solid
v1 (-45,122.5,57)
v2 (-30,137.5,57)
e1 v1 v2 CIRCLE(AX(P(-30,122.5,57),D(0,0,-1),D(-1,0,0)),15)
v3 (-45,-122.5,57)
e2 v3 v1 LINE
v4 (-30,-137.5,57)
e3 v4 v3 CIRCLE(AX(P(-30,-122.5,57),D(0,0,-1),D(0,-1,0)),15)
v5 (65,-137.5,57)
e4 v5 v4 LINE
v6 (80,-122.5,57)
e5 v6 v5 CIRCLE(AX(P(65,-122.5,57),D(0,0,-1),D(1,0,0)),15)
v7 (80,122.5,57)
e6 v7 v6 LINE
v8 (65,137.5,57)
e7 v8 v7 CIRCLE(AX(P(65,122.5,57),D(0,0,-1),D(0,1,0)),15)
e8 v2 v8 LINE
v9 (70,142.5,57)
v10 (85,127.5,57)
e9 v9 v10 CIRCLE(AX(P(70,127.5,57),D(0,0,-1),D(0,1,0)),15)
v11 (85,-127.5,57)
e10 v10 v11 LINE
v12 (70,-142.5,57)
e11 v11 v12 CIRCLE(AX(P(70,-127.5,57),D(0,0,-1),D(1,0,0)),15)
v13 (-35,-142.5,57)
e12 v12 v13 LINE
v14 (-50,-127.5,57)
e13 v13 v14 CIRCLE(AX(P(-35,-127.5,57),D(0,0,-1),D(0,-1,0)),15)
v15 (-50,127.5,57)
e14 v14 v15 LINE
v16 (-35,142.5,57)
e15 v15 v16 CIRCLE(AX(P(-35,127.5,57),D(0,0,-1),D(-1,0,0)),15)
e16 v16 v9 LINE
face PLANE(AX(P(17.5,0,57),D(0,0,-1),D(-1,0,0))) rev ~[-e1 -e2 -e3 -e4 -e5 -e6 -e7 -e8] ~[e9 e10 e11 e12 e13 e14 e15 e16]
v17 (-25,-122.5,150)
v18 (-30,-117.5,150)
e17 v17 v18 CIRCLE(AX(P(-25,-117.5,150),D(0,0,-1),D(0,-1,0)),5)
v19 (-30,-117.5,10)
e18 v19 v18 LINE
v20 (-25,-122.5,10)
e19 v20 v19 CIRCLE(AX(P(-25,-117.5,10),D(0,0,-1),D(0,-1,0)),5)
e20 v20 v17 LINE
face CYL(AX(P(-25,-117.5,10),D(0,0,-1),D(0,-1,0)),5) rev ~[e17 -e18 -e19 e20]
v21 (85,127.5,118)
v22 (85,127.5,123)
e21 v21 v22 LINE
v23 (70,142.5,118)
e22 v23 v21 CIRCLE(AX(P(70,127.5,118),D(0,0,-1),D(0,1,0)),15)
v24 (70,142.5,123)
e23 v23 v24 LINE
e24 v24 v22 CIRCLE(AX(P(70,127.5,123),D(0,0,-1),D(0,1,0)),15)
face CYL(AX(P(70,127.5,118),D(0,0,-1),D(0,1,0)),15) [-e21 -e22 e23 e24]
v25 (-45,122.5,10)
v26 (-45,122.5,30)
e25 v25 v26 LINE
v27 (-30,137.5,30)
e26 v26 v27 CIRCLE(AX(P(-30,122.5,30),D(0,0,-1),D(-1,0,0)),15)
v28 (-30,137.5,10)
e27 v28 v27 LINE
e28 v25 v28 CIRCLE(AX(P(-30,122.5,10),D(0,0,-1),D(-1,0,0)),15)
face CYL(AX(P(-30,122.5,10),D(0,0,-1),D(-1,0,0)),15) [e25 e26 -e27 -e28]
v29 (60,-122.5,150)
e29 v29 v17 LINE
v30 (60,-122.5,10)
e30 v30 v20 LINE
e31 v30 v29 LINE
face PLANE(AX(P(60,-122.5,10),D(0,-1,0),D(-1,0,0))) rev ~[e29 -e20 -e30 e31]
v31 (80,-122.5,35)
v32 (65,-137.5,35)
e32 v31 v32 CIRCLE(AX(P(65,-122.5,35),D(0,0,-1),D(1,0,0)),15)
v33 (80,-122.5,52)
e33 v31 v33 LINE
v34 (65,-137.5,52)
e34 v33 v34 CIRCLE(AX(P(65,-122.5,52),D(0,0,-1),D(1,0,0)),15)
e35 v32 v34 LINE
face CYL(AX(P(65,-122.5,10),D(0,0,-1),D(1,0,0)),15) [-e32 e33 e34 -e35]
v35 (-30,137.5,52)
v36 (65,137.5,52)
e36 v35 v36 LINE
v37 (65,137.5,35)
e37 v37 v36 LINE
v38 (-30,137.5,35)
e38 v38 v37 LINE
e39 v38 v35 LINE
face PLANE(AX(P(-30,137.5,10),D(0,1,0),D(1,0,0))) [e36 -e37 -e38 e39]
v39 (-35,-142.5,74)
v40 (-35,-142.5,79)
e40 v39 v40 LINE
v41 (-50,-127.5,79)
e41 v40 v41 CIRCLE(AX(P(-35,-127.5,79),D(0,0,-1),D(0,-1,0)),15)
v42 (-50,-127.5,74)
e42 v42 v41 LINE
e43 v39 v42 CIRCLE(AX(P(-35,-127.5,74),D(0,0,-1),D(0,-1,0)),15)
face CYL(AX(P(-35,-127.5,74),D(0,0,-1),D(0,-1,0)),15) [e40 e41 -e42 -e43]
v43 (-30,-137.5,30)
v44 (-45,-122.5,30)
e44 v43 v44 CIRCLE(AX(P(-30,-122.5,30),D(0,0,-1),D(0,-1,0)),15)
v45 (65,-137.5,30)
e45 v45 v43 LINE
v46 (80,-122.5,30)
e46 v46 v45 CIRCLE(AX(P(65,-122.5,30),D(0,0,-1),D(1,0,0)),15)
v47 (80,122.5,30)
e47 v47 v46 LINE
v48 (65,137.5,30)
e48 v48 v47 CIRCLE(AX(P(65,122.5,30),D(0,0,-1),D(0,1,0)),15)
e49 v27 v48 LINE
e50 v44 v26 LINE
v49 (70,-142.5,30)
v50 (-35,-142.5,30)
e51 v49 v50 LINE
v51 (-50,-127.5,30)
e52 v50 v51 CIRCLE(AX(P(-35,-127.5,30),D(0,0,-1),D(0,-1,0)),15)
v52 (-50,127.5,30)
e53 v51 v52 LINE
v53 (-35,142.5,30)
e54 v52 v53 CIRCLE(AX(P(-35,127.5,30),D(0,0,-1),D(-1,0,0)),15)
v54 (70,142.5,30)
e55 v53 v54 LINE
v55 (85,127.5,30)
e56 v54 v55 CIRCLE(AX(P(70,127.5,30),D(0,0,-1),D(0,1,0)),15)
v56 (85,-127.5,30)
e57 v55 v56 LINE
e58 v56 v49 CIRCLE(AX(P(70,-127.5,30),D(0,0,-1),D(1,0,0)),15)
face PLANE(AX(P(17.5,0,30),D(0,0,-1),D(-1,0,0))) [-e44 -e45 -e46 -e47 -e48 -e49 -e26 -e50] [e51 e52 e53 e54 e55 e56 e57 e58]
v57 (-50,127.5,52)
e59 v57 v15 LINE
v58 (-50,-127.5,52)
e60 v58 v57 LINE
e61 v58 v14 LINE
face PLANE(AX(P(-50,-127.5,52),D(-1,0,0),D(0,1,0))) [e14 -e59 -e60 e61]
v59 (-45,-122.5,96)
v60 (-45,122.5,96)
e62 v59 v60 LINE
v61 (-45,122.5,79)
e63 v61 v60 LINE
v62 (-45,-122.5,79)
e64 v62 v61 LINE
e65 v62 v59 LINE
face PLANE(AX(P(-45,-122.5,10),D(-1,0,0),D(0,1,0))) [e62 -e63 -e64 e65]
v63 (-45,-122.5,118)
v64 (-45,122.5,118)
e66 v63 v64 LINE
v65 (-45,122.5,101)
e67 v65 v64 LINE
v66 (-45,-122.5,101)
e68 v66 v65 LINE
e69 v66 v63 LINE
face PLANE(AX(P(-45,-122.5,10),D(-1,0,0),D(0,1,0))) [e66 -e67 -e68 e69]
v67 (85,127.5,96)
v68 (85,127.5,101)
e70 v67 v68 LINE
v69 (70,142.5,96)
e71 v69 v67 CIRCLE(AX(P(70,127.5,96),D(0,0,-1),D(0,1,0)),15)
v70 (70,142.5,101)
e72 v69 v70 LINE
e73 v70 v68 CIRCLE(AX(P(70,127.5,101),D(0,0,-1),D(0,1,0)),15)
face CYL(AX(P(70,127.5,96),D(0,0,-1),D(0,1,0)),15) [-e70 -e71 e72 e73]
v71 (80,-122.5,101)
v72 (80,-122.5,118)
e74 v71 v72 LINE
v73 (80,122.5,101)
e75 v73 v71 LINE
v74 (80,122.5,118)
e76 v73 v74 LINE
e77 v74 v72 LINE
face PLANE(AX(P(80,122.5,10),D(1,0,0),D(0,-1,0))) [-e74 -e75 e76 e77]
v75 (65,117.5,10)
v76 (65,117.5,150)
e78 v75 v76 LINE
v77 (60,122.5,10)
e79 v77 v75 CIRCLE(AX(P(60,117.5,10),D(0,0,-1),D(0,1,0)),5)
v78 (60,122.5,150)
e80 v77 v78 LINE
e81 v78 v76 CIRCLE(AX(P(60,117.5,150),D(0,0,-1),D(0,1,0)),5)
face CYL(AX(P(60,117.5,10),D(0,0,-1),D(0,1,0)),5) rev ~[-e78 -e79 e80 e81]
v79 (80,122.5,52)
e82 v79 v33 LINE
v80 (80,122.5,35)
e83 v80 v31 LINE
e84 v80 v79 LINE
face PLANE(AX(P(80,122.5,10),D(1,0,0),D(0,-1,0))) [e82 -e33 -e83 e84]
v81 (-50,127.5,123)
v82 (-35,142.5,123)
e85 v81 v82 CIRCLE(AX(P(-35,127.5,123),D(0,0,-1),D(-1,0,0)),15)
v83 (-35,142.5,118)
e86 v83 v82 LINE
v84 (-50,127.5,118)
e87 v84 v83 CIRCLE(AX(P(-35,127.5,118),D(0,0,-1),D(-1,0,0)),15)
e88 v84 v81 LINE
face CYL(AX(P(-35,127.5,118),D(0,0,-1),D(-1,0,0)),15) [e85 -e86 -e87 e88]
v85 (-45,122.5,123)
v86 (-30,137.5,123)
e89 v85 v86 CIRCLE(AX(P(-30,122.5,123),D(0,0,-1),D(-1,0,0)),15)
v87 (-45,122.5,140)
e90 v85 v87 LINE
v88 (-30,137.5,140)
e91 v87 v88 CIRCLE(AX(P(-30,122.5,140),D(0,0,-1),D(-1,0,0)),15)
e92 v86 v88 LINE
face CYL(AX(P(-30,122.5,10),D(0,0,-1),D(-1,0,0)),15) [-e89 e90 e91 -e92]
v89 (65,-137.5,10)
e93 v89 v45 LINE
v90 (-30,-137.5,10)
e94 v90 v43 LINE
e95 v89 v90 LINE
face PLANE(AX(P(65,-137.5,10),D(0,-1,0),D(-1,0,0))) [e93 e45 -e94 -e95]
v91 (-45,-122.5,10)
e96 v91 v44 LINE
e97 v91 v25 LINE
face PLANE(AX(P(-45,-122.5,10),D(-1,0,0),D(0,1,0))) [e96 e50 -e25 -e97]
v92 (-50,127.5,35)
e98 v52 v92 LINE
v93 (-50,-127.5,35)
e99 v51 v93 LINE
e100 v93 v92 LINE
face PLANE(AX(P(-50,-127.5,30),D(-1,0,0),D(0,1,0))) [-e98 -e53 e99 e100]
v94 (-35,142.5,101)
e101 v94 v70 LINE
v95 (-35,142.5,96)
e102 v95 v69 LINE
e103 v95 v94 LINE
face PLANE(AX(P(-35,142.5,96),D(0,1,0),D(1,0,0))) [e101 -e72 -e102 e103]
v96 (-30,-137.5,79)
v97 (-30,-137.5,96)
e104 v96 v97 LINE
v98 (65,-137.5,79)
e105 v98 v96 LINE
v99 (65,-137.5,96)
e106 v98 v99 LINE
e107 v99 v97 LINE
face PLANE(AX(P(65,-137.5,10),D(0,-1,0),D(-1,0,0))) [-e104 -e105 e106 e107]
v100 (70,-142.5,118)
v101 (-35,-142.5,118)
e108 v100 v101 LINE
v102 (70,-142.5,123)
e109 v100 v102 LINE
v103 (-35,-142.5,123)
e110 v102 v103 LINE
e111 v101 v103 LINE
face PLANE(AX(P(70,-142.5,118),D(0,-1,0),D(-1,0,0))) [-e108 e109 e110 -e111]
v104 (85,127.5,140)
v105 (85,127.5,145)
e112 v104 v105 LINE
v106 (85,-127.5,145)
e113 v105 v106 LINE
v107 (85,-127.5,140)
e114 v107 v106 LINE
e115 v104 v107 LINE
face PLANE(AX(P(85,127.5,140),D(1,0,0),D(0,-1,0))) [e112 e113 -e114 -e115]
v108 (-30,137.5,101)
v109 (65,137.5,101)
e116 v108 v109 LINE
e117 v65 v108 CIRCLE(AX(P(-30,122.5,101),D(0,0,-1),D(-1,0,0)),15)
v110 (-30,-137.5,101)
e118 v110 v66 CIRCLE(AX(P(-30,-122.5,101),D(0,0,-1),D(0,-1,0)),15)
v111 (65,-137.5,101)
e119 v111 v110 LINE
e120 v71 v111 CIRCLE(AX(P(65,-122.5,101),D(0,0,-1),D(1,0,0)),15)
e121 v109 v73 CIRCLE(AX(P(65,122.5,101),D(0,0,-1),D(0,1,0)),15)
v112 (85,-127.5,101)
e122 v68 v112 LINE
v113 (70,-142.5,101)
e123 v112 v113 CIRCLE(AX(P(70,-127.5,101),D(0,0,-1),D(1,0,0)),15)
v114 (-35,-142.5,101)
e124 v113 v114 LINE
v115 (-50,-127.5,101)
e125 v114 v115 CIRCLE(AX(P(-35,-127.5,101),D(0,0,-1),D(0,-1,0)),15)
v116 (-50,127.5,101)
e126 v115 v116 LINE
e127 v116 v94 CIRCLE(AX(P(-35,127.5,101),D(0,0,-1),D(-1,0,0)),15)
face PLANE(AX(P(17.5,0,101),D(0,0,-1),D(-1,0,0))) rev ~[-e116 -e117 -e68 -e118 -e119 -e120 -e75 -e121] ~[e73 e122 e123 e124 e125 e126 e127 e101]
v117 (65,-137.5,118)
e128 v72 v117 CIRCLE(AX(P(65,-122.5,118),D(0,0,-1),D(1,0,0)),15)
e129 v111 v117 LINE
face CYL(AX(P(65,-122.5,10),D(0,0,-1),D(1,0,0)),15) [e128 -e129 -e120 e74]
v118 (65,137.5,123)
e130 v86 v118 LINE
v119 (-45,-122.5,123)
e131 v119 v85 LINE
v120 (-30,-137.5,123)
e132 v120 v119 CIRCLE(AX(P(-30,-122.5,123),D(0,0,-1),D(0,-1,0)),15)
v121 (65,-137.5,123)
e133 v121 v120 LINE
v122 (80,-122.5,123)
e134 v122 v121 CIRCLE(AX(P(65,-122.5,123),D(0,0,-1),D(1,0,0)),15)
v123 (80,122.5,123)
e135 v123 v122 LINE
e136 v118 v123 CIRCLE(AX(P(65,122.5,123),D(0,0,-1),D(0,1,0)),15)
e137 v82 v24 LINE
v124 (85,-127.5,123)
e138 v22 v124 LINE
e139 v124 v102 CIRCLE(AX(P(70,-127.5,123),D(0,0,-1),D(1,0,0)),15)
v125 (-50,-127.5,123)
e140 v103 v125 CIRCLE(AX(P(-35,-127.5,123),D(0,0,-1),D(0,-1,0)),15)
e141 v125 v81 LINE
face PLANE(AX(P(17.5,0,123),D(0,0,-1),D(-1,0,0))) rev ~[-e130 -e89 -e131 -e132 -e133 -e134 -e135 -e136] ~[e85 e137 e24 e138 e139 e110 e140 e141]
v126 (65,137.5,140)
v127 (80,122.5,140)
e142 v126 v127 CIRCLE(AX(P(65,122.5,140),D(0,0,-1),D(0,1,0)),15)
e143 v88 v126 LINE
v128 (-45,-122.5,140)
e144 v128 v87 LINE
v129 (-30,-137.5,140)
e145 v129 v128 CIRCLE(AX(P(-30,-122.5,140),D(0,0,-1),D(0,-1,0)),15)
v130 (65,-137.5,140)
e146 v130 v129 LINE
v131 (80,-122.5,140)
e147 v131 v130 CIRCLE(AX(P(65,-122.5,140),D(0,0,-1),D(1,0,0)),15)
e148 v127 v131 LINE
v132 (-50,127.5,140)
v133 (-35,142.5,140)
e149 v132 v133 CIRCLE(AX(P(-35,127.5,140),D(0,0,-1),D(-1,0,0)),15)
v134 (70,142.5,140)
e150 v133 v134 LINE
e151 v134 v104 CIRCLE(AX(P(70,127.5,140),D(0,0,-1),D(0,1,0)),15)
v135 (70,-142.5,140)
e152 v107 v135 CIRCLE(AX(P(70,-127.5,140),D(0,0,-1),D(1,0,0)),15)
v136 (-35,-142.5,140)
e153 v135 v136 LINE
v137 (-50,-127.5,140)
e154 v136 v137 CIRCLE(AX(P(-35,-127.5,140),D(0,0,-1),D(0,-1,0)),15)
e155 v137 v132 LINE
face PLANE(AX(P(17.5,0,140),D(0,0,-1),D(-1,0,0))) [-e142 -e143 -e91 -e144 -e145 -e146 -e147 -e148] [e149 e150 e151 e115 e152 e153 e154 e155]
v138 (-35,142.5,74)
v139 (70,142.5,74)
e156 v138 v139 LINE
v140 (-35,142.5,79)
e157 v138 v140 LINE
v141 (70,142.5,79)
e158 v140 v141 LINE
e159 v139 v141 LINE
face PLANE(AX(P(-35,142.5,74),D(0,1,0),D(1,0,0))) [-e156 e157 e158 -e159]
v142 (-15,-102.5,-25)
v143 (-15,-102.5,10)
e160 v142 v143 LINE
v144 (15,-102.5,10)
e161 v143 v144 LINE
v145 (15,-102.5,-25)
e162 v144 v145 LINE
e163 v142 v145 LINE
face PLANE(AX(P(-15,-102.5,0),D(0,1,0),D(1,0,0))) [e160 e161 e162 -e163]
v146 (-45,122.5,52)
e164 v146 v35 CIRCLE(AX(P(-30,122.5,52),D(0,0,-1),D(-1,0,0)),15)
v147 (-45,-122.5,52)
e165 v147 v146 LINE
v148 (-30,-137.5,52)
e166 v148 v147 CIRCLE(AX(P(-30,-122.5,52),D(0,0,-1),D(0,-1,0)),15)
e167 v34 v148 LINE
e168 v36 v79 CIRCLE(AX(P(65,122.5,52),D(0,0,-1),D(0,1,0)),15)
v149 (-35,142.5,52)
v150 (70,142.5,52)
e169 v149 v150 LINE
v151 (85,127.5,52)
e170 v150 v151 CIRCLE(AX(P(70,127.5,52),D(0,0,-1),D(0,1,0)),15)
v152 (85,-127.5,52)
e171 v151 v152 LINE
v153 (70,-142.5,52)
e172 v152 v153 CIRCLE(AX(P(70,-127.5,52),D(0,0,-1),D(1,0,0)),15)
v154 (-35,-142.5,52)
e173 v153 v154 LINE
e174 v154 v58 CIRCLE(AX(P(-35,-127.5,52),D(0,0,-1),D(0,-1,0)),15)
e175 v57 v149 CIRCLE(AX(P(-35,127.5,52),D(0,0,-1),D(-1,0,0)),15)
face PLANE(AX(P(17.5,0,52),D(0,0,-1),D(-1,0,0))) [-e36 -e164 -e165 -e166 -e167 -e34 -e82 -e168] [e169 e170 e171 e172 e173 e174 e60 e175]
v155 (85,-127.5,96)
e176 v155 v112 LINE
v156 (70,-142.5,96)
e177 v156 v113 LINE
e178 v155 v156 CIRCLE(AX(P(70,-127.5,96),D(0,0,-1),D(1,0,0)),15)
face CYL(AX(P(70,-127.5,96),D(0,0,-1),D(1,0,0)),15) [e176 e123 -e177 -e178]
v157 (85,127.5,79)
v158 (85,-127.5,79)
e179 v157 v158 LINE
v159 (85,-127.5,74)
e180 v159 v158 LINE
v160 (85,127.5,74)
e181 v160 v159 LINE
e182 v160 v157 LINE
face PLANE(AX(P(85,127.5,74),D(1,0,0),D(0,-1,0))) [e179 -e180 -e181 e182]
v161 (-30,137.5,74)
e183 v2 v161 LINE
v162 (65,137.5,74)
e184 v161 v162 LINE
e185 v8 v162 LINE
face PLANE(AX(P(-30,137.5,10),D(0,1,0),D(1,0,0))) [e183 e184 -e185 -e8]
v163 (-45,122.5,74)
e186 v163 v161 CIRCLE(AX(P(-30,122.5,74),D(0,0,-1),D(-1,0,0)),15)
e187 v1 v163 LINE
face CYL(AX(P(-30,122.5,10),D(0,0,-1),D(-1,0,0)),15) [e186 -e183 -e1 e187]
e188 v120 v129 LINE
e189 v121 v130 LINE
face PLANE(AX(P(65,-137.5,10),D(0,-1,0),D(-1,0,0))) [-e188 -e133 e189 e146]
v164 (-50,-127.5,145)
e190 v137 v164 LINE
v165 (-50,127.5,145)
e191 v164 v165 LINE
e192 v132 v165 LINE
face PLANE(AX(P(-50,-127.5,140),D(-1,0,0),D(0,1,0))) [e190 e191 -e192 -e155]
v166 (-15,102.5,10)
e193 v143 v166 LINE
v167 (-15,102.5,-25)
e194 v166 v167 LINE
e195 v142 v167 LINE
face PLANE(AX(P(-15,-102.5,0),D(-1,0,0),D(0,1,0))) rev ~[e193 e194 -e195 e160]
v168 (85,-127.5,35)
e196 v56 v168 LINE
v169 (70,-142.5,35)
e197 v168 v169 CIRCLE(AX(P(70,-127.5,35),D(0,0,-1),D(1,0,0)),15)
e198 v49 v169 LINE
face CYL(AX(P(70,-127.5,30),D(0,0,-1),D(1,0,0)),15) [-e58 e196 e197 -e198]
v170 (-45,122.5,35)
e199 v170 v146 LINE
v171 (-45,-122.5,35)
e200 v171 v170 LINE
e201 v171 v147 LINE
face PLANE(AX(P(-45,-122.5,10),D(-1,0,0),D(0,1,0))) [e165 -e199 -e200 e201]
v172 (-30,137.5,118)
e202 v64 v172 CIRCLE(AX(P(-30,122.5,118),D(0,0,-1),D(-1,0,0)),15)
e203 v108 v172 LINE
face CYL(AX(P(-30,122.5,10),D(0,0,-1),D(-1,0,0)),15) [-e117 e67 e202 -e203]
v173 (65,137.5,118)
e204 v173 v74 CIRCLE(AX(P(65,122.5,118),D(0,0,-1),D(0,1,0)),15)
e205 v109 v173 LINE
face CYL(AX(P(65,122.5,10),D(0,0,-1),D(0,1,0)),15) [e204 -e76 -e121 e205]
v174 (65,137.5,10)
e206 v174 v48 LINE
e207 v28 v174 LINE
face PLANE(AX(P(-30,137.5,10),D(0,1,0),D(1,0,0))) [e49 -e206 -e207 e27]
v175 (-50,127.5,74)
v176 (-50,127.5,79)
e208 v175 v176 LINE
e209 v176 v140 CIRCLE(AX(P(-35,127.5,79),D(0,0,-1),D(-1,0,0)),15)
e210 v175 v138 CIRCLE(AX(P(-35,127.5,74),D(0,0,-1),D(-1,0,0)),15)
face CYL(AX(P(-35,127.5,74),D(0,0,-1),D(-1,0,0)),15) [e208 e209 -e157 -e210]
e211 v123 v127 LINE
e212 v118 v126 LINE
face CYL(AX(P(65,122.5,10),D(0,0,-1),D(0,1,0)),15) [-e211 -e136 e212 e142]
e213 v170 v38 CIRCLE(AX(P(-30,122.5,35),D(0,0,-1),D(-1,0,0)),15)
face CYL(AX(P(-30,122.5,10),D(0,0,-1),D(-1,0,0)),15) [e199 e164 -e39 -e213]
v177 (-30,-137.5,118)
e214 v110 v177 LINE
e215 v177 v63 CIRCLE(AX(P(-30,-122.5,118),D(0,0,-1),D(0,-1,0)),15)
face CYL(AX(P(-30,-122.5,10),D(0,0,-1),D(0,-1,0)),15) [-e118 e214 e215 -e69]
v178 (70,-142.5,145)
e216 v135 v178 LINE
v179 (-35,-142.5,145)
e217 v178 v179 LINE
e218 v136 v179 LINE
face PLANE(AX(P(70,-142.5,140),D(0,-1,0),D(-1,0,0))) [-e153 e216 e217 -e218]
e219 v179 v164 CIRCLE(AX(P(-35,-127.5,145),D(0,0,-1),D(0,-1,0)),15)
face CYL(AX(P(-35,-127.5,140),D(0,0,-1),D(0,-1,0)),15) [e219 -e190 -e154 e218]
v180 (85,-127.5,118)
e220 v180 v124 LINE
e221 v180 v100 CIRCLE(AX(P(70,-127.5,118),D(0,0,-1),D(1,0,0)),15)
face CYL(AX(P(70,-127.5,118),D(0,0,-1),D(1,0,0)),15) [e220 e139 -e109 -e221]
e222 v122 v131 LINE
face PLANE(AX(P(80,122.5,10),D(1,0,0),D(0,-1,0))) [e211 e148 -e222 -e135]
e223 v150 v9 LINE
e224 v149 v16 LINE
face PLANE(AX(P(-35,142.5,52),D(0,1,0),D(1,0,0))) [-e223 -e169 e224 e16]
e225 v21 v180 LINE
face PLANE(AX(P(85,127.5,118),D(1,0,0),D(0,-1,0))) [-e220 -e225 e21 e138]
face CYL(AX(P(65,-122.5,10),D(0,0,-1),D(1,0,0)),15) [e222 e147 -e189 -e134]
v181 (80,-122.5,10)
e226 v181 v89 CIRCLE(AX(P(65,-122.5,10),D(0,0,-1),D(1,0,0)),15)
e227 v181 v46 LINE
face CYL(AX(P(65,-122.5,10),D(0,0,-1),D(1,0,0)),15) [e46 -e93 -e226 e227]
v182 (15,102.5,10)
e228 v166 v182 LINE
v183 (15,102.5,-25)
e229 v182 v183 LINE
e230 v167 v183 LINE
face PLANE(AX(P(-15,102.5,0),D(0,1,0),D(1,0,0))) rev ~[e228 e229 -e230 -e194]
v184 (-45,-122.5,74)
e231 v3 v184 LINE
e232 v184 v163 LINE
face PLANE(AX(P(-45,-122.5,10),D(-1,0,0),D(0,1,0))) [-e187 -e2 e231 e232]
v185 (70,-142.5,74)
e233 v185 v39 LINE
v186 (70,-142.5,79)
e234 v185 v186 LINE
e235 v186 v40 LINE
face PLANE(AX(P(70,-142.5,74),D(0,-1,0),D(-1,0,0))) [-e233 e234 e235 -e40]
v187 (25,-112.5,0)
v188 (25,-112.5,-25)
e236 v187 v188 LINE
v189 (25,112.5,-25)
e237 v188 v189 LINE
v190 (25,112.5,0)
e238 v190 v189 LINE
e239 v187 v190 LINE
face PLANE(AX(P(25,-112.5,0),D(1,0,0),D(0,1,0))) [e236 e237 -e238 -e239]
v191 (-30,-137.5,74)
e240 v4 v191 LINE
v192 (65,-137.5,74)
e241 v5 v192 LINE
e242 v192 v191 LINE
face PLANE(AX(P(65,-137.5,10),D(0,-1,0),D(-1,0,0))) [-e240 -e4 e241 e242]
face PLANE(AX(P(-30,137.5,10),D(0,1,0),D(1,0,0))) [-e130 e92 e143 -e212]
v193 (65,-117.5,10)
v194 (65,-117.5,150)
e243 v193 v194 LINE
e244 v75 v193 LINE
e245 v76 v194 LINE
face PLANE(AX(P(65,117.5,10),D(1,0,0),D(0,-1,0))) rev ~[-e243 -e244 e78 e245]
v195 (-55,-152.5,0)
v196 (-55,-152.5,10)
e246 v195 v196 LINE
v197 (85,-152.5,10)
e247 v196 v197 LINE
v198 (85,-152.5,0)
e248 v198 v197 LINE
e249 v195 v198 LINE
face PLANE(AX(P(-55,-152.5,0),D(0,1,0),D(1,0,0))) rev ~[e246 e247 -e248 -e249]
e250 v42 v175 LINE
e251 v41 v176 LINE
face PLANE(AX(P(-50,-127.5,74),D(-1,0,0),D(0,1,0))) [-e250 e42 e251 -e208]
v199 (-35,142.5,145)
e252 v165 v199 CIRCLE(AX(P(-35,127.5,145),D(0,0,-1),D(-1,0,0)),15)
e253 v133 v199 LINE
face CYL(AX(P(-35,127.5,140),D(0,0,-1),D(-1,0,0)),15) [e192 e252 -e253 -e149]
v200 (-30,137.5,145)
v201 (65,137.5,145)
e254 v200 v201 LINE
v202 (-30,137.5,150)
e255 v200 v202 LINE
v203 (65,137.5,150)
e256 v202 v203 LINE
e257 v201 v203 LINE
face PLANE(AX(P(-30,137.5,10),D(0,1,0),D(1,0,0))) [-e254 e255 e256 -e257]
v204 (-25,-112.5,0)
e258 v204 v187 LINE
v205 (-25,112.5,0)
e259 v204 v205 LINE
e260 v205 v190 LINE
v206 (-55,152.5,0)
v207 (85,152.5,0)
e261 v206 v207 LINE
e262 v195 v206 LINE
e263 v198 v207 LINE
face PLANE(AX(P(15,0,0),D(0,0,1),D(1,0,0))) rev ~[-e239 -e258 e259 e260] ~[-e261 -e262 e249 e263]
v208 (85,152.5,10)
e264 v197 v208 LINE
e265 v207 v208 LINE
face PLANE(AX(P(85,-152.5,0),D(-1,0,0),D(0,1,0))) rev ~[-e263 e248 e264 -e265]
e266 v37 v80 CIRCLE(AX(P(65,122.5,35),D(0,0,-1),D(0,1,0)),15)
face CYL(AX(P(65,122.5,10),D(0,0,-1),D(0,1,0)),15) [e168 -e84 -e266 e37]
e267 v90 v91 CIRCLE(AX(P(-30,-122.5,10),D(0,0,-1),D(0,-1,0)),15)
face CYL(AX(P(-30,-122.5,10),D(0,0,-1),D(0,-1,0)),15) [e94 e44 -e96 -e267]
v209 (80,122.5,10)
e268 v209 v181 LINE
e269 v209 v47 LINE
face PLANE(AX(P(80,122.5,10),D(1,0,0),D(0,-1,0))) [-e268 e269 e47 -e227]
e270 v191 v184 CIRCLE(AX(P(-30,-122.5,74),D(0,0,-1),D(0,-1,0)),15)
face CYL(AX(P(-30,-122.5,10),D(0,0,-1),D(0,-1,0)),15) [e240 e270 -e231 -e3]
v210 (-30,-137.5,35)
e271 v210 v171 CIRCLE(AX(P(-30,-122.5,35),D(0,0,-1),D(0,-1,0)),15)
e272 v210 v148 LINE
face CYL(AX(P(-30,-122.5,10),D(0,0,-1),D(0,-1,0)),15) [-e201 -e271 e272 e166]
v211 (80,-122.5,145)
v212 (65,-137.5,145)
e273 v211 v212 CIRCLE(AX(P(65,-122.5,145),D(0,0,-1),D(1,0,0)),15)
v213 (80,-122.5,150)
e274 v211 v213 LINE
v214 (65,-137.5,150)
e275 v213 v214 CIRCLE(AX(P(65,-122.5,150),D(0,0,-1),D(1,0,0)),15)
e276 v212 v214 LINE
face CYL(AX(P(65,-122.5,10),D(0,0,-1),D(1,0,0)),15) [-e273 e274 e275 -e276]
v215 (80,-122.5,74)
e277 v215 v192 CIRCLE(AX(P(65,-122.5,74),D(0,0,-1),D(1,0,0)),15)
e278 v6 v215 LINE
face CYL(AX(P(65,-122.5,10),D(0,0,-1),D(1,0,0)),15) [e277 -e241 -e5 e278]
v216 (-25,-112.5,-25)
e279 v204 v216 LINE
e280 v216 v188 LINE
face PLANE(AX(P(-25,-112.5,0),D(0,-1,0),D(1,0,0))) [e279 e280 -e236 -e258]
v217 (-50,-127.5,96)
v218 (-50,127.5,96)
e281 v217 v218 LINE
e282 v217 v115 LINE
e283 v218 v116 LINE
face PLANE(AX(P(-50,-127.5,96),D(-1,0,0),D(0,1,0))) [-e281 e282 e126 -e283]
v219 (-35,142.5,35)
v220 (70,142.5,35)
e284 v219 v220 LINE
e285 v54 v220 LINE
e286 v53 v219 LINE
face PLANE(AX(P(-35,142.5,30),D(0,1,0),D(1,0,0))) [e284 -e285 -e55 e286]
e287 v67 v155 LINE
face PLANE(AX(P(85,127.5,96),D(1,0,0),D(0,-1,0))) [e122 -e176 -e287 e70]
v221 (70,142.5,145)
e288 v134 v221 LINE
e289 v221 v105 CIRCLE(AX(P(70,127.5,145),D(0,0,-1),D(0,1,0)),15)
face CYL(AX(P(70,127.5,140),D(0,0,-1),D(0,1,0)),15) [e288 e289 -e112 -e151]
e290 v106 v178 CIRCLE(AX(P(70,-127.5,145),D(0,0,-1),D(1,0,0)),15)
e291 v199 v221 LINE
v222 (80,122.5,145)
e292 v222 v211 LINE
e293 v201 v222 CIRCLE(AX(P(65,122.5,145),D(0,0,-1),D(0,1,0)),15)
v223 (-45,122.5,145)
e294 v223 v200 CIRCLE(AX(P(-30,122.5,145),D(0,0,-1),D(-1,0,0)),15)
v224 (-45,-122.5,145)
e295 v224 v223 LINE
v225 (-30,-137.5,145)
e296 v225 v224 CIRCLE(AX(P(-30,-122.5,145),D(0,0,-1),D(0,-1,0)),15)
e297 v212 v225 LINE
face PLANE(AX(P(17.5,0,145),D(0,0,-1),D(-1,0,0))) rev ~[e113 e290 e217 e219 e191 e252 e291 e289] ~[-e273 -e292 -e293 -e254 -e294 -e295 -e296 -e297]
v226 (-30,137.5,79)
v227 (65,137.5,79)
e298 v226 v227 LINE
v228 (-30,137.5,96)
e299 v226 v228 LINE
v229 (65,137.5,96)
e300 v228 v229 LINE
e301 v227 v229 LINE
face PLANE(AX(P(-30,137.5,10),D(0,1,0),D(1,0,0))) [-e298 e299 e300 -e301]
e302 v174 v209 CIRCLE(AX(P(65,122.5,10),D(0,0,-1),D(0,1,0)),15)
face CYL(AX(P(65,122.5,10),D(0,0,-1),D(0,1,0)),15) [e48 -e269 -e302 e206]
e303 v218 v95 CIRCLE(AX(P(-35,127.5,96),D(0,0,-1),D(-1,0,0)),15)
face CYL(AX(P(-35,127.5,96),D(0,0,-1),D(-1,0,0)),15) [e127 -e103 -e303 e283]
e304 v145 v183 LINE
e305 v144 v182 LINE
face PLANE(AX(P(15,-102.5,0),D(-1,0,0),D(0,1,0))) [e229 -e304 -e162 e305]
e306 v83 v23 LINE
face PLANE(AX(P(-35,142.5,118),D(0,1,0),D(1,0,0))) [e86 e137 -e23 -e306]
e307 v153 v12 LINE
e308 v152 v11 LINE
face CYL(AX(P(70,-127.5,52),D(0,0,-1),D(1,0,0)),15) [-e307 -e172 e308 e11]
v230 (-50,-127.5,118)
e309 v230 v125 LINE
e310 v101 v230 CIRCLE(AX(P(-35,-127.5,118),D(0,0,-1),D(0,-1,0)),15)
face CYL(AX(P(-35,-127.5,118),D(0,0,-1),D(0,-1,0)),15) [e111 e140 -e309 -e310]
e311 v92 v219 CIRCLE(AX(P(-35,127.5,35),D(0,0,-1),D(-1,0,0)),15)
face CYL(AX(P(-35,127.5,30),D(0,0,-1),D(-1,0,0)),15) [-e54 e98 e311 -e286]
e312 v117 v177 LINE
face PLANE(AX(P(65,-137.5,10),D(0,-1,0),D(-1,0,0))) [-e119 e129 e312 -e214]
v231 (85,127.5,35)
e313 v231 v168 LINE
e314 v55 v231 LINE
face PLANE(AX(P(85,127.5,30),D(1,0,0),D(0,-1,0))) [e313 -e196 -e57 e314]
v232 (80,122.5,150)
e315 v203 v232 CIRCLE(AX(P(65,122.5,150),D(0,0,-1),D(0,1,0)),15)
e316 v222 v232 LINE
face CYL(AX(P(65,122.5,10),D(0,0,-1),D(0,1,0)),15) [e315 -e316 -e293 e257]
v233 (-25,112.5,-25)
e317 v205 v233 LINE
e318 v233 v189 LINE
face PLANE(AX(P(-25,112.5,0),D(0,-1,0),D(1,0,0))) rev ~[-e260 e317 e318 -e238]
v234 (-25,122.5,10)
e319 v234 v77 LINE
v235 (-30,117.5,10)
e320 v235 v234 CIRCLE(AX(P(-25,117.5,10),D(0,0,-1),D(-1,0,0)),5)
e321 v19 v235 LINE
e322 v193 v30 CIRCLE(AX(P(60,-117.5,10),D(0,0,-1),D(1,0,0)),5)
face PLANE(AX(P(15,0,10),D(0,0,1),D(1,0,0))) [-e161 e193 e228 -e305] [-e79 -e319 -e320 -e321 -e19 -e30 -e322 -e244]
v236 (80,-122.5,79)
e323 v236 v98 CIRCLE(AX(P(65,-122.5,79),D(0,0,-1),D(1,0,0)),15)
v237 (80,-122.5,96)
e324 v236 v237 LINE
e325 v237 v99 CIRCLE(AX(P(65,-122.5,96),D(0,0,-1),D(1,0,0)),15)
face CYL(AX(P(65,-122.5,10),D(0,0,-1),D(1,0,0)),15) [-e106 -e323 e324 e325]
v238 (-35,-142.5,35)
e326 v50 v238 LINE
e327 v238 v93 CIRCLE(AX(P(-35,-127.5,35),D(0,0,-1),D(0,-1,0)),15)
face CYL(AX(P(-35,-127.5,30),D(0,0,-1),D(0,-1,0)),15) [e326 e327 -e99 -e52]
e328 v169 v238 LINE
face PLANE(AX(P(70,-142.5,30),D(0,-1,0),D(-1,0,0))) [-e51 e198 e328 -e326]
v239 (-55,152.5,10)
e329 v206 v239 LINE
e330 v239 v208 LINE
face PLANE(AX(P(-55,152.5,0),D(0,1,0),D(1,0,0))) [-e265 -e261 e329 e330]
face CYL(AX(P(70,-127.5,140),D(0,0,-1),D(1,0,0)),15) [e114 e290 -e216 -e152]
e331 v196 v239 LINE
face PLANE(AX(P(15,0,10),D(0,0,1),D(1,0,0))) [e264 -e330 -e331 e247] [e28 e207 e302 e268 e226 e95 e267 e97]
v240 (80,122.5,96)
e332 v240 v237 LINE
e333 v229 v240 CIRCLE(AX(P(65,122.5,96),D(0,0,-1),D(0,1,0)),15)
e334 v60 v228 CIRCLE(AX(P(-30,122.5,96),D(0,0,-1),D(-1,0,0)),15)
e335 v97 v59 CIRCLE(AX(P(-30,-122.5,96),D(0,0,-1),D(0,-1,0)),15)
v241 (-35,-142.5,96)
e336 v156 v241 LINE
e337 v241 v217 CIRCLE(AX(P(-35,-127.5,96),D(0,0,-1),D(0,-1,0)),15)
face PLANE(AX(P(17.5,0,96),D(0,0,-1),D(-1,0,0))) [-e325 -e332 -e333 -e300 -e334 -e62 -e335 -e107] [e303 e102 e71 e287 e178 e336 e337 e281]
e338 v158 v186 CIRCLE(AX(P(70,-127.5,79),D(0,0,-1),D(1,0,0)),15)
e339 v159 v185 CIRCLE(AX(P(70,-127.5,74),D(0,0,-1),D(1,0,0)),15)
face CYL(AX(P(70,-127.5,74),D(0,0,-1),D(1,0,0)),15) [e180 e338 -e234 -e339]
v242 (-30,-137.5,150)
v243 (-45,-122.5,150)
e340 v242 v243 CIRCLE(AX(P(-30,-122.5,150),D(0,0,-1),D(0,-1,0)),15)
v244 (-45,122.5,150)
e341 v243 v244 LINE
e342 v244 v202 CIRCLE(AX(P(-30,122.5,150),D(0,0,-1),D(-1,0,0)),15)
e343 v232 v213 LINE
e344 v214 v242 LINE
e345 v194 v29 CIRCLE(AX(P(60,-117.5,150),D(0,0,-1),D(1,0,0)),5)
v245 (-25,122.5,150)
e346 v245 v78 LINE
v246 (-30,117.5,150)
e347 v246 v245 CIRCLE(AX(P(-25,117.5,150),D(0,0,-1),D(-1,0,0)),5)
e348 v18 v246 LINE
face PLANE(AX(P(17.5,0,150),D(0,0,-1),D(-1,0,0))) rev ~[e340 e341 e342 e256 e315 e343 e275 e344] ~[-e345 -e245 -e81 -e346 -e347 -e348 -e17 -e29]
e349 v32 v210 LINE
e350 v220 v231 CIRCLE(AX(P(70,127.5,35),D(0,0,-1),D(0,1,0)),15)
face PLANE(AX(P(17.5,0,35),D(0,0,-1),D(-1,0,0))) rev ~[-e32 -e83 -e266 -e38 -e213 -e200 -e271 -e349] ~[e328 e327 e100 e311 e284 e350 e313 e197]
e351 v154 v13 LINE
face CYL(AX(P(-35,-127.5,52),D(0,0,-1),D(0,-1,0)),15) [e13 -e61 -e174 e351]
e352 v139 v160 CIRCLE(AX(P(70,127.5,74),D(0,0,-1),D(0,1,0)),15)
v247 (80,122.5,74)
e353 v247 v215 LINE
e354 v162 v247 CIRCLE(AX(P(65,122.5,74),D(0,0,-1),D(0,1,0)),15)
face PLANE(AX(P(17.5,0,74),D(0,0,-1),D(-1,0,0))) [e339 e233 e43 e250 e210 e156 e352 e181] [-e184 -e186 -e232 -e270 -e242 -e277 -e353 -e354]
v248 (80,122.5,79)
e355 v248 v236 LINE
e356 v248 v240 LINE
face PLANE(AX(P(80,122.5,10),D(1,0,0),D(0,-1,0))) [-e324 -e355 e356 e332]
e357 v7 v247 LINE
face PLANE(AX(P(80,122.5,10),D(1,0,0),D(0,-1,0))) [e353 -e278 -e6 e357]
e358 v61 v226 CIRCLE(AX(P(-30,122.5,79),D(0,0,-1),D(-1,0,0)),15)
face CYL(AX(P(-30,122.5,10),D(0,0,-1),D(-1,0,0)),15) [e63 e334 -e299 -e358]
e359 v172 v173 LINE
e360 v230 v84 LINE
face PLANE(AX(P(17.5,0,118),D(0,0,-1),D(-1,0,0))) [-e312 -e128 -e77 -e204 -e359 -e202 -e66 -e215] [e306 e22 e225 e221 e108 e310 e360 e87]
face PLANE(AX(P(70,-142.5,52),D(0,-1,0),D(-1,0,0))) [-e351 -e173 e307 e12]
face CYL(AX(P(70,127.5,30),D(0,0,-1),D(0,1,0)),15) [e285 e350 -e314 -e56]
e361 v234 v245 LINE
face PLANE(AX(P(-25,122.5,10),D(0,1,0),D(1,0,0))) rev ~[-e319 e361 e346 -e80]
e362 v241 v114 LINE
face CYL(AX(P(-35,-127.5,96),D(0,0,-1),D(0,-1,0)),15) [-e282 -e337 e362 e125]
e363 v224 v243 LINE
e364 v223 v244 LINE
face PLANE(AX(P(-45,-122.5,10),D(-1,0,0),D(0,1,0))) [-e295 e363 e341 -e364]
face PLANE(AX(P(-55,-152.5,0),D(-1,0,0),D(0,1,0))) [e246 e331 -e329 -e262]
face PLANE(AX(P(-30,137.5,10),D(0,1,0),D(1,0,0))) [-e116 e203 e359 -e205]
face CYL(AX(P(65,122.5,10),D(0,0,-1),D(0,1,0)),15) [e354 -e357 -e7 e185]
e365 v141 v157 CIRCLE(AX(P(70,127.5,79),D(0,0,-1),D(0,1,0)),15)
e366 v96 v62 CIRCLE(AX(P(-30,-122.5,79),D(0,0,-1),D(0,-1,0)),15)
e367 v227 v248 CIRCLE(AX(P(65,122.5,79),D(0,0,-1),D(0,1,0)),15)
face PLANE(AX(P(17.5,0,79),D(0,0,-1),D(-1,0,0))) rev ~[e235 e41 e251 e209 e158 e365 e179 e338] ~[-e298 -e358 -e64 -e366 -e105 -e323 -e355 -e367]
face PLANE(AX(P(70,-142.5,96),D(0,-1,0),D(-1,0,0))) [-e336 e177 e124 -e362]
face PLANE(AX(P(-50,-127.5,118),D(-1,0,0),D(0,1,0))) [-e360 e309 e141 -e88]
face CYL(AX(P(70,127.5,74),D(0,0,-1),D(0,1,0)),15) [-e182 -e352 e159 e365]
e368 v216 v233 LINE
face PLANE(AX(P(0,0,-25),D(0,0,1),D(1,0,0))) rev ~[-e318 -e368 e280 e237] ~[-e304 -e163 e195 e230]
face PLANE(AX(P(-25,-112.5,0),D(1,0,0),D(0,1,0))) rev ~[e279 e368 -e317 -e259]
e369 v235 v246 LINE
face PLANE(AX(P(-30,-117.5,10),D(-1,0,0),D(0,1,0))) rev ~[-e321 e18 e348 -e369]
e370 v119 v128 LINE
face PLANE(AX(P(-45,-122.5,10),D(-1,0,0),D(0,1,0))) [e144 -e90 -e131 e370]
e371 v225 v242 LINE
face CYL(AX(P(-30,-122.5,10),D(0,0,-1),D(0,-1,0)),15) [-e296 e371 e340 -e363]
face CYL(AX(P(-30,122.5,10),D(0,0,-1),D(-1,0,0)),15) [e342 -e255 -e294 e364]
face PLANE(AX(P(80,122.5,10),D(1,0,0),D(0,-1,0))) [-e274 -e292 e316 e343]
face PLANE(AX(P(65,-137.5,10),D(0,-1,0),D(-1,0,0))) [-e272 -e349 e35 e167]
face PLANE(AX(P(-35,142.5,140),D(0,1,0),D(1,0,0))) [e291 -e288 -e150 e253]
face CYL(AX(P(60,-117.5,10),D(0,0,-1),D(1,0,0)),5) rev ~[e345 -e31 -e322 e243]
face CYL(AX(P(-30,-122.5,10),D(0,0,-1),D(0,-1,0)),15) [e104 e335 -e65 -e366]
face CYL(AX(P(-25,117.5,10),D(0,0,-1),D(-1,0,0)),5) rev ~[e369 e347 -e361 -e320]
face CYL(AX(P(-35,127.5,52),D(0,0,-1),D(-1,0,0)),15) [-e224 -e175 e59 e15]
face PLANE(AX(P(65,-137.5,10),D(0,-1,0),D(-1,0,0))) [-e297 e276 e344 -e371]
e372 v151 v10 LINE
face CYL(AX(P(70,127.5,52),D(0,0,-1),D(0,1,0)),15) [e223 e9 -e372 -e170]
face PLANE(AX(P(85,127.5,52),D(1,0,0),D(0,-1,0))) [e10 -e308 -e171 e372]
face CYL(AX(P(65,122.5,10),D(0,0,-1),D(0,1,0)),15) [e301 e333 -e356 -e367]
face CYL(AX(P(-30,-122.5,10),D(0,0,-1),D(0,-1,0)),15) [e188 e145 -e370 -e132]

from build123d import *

# Parameters (mm, degrees)
SKETCH2_W           = 50
SKETCH2_H           = 225
SKETCH2_W_2         = 30
SKETCH2_H_2         = 205
BOSS_EXTRUDE1_DEPTH = 25
SKETCH3_W           = 140
SKETCH3_H           = 305
SKETCH3_W_2         = 30
SKETCH3_H_2         = 205
BOSS_EXTRUDE2_DEPTH = 10
BOSS_EXTRUDE3_DEPTH = 140
BOSS_EXTRUDE4_START = 20
BOSS_EXTRUDE4_DEPTH = 5
LPATTERN1_COUNT     = 6
LPATTERN1_PITCH     = 22


with BuildPart() as part:
    # Sketch2 → Boss-Extrude1 (new body)
    with BuildSketch(Plane.XY):
        Rectangle(SKETCH2_W, SKETCH2_H)
        Rectangle(SKETCH2_W_2, SKETCH2_H_2, mode=Mode.SUBTRACT)
    extrude(amount=-BOSS_EXTRUDE1_DEPTH)

    # Sketch3 → Boss-Extrude2 (add)
    with BuildSketch(Plane.XY):
        with Locations((15, 0)):
            Rectangle(SKETCH3_W, SKETCH3_H)
        Rectangle(SKETCH3_W_2, SKETCH3_H_2, mode=Mode.SUBTRACT)
    extrude(amount=BOSS_EXTRUDE2_DEPTH)

    # Sketch4 → Boss-Extrude3 (add)
    with BuildSketch(Plane.XY.offset(10)):
        with BuildLine():
            Line((-30, 137.5), (65, 137.5))
            ThreePointArc((65, 137.5), (75.606601718, 133.106601718), (80, 122.5))
            Line((80, 122.5), (80, -122.5))
            ThreePointArc((80, -122.5), (75.606601718, -133.106601718), (65, -137.5))
            Line((65, -137.5), (-30, -137.5))
            ThreePointArc((-30, -137.5), (-40.606601718, -133.106601718), (-45, -122.5))
            Line((-45, -122.5), (-45, 122.5))
            ThreePointArc((-45, 122.5), (-40.606601718, 133.106601718), (-30, 137.5))
        make_face()
        with BuildLine():
            Line((-25, 122.5), (60, 122.5))
            ThreePointArc((60, 122.5), (63.535533906, 121.035533906), (65, 117.5))
            Line((65, 117.5), (65, -117.5))
            ThreePointArc((65, -117.5), (63.535533906, -121.035533906), (60, -122.5))
            Line((60, -122.5), (-25, -122.5))
            ThreePointArc((-25, -122.5), (-28.535533906, -121.035533906), (-30, -117.5))
            Line((-30, -117.5), (-30, 117.5))
            ThreePointArc((-30, 117.5), (-28.535533906, 121.035533906), (-25, 122.5))
        make_face(mode=Mode.SUBTRACT)
    extrude(amount=BOSS_EXTRUDE3_DEPTH)

    # Sketch5 → Boss-Extrude4 (add)
    with BuildSketch(Plane.XY.offset(10).offset(BOSS_EXTRUDE4_START)):
        with BuildLine():
            Line((-35, 142.5), (70, 142.5))
            ThreePointArc((70, 142.5), (80.606601718, 138.106601718), (85, 127.5))
            Line((85, 127.5), (85, -127.5))
            ThreePointArc((85, -127.5), (80.606601718, -138.106601718), (70, -142.5))
            Line((70, -142.5), (-35, -142.5))
            ThreePointArc((-35, -142.5), (-45.606601718, -138.106601718), (-50, -127.5))
            Line((-50, -127.5), (-50, 127.5))
            ThreePointArc((-50, 127.5), (-45.606601718, 138.106601718), (-35, 142.5))
        make_face()
        with BuildLine():
            Line((-30, 137.5), (65, 137.5))
            ThreePointArc((65, 137.5), (75.606601718, 133.106601718), (80, 122.5))
            Line((80, 122.5), (80, -122.5))
            ThreePointArc((80, -122.5), (75.606601718, -133.106601718), (65, -137.5))
            Line((65, -137.5), (-30, -137.5))
            ThreePointArc((-30, -137.5), (-40.606601718, -133.106601718), (-45, -122.5))
            Line((-45, -122.5), (-45, 122.5))
            ThreePointArc((-45, 122.5), (-40.606601718, 133.106601718), (-30, 137.5))
        make_face(mode=Mode.SUBTRACT)
    boss_extrude4 = extrude(amount=BOSS_EXTRUDE4_DEPTH)

    # LPattern1: Boss-Extrude4 ×6
    with Locations(*[(0, 0, i * LPATTERN1_PITCH) for i in range(1, LPATTERN1_COUNT)]):
        add(boss_extrude4)


solid = part.part
